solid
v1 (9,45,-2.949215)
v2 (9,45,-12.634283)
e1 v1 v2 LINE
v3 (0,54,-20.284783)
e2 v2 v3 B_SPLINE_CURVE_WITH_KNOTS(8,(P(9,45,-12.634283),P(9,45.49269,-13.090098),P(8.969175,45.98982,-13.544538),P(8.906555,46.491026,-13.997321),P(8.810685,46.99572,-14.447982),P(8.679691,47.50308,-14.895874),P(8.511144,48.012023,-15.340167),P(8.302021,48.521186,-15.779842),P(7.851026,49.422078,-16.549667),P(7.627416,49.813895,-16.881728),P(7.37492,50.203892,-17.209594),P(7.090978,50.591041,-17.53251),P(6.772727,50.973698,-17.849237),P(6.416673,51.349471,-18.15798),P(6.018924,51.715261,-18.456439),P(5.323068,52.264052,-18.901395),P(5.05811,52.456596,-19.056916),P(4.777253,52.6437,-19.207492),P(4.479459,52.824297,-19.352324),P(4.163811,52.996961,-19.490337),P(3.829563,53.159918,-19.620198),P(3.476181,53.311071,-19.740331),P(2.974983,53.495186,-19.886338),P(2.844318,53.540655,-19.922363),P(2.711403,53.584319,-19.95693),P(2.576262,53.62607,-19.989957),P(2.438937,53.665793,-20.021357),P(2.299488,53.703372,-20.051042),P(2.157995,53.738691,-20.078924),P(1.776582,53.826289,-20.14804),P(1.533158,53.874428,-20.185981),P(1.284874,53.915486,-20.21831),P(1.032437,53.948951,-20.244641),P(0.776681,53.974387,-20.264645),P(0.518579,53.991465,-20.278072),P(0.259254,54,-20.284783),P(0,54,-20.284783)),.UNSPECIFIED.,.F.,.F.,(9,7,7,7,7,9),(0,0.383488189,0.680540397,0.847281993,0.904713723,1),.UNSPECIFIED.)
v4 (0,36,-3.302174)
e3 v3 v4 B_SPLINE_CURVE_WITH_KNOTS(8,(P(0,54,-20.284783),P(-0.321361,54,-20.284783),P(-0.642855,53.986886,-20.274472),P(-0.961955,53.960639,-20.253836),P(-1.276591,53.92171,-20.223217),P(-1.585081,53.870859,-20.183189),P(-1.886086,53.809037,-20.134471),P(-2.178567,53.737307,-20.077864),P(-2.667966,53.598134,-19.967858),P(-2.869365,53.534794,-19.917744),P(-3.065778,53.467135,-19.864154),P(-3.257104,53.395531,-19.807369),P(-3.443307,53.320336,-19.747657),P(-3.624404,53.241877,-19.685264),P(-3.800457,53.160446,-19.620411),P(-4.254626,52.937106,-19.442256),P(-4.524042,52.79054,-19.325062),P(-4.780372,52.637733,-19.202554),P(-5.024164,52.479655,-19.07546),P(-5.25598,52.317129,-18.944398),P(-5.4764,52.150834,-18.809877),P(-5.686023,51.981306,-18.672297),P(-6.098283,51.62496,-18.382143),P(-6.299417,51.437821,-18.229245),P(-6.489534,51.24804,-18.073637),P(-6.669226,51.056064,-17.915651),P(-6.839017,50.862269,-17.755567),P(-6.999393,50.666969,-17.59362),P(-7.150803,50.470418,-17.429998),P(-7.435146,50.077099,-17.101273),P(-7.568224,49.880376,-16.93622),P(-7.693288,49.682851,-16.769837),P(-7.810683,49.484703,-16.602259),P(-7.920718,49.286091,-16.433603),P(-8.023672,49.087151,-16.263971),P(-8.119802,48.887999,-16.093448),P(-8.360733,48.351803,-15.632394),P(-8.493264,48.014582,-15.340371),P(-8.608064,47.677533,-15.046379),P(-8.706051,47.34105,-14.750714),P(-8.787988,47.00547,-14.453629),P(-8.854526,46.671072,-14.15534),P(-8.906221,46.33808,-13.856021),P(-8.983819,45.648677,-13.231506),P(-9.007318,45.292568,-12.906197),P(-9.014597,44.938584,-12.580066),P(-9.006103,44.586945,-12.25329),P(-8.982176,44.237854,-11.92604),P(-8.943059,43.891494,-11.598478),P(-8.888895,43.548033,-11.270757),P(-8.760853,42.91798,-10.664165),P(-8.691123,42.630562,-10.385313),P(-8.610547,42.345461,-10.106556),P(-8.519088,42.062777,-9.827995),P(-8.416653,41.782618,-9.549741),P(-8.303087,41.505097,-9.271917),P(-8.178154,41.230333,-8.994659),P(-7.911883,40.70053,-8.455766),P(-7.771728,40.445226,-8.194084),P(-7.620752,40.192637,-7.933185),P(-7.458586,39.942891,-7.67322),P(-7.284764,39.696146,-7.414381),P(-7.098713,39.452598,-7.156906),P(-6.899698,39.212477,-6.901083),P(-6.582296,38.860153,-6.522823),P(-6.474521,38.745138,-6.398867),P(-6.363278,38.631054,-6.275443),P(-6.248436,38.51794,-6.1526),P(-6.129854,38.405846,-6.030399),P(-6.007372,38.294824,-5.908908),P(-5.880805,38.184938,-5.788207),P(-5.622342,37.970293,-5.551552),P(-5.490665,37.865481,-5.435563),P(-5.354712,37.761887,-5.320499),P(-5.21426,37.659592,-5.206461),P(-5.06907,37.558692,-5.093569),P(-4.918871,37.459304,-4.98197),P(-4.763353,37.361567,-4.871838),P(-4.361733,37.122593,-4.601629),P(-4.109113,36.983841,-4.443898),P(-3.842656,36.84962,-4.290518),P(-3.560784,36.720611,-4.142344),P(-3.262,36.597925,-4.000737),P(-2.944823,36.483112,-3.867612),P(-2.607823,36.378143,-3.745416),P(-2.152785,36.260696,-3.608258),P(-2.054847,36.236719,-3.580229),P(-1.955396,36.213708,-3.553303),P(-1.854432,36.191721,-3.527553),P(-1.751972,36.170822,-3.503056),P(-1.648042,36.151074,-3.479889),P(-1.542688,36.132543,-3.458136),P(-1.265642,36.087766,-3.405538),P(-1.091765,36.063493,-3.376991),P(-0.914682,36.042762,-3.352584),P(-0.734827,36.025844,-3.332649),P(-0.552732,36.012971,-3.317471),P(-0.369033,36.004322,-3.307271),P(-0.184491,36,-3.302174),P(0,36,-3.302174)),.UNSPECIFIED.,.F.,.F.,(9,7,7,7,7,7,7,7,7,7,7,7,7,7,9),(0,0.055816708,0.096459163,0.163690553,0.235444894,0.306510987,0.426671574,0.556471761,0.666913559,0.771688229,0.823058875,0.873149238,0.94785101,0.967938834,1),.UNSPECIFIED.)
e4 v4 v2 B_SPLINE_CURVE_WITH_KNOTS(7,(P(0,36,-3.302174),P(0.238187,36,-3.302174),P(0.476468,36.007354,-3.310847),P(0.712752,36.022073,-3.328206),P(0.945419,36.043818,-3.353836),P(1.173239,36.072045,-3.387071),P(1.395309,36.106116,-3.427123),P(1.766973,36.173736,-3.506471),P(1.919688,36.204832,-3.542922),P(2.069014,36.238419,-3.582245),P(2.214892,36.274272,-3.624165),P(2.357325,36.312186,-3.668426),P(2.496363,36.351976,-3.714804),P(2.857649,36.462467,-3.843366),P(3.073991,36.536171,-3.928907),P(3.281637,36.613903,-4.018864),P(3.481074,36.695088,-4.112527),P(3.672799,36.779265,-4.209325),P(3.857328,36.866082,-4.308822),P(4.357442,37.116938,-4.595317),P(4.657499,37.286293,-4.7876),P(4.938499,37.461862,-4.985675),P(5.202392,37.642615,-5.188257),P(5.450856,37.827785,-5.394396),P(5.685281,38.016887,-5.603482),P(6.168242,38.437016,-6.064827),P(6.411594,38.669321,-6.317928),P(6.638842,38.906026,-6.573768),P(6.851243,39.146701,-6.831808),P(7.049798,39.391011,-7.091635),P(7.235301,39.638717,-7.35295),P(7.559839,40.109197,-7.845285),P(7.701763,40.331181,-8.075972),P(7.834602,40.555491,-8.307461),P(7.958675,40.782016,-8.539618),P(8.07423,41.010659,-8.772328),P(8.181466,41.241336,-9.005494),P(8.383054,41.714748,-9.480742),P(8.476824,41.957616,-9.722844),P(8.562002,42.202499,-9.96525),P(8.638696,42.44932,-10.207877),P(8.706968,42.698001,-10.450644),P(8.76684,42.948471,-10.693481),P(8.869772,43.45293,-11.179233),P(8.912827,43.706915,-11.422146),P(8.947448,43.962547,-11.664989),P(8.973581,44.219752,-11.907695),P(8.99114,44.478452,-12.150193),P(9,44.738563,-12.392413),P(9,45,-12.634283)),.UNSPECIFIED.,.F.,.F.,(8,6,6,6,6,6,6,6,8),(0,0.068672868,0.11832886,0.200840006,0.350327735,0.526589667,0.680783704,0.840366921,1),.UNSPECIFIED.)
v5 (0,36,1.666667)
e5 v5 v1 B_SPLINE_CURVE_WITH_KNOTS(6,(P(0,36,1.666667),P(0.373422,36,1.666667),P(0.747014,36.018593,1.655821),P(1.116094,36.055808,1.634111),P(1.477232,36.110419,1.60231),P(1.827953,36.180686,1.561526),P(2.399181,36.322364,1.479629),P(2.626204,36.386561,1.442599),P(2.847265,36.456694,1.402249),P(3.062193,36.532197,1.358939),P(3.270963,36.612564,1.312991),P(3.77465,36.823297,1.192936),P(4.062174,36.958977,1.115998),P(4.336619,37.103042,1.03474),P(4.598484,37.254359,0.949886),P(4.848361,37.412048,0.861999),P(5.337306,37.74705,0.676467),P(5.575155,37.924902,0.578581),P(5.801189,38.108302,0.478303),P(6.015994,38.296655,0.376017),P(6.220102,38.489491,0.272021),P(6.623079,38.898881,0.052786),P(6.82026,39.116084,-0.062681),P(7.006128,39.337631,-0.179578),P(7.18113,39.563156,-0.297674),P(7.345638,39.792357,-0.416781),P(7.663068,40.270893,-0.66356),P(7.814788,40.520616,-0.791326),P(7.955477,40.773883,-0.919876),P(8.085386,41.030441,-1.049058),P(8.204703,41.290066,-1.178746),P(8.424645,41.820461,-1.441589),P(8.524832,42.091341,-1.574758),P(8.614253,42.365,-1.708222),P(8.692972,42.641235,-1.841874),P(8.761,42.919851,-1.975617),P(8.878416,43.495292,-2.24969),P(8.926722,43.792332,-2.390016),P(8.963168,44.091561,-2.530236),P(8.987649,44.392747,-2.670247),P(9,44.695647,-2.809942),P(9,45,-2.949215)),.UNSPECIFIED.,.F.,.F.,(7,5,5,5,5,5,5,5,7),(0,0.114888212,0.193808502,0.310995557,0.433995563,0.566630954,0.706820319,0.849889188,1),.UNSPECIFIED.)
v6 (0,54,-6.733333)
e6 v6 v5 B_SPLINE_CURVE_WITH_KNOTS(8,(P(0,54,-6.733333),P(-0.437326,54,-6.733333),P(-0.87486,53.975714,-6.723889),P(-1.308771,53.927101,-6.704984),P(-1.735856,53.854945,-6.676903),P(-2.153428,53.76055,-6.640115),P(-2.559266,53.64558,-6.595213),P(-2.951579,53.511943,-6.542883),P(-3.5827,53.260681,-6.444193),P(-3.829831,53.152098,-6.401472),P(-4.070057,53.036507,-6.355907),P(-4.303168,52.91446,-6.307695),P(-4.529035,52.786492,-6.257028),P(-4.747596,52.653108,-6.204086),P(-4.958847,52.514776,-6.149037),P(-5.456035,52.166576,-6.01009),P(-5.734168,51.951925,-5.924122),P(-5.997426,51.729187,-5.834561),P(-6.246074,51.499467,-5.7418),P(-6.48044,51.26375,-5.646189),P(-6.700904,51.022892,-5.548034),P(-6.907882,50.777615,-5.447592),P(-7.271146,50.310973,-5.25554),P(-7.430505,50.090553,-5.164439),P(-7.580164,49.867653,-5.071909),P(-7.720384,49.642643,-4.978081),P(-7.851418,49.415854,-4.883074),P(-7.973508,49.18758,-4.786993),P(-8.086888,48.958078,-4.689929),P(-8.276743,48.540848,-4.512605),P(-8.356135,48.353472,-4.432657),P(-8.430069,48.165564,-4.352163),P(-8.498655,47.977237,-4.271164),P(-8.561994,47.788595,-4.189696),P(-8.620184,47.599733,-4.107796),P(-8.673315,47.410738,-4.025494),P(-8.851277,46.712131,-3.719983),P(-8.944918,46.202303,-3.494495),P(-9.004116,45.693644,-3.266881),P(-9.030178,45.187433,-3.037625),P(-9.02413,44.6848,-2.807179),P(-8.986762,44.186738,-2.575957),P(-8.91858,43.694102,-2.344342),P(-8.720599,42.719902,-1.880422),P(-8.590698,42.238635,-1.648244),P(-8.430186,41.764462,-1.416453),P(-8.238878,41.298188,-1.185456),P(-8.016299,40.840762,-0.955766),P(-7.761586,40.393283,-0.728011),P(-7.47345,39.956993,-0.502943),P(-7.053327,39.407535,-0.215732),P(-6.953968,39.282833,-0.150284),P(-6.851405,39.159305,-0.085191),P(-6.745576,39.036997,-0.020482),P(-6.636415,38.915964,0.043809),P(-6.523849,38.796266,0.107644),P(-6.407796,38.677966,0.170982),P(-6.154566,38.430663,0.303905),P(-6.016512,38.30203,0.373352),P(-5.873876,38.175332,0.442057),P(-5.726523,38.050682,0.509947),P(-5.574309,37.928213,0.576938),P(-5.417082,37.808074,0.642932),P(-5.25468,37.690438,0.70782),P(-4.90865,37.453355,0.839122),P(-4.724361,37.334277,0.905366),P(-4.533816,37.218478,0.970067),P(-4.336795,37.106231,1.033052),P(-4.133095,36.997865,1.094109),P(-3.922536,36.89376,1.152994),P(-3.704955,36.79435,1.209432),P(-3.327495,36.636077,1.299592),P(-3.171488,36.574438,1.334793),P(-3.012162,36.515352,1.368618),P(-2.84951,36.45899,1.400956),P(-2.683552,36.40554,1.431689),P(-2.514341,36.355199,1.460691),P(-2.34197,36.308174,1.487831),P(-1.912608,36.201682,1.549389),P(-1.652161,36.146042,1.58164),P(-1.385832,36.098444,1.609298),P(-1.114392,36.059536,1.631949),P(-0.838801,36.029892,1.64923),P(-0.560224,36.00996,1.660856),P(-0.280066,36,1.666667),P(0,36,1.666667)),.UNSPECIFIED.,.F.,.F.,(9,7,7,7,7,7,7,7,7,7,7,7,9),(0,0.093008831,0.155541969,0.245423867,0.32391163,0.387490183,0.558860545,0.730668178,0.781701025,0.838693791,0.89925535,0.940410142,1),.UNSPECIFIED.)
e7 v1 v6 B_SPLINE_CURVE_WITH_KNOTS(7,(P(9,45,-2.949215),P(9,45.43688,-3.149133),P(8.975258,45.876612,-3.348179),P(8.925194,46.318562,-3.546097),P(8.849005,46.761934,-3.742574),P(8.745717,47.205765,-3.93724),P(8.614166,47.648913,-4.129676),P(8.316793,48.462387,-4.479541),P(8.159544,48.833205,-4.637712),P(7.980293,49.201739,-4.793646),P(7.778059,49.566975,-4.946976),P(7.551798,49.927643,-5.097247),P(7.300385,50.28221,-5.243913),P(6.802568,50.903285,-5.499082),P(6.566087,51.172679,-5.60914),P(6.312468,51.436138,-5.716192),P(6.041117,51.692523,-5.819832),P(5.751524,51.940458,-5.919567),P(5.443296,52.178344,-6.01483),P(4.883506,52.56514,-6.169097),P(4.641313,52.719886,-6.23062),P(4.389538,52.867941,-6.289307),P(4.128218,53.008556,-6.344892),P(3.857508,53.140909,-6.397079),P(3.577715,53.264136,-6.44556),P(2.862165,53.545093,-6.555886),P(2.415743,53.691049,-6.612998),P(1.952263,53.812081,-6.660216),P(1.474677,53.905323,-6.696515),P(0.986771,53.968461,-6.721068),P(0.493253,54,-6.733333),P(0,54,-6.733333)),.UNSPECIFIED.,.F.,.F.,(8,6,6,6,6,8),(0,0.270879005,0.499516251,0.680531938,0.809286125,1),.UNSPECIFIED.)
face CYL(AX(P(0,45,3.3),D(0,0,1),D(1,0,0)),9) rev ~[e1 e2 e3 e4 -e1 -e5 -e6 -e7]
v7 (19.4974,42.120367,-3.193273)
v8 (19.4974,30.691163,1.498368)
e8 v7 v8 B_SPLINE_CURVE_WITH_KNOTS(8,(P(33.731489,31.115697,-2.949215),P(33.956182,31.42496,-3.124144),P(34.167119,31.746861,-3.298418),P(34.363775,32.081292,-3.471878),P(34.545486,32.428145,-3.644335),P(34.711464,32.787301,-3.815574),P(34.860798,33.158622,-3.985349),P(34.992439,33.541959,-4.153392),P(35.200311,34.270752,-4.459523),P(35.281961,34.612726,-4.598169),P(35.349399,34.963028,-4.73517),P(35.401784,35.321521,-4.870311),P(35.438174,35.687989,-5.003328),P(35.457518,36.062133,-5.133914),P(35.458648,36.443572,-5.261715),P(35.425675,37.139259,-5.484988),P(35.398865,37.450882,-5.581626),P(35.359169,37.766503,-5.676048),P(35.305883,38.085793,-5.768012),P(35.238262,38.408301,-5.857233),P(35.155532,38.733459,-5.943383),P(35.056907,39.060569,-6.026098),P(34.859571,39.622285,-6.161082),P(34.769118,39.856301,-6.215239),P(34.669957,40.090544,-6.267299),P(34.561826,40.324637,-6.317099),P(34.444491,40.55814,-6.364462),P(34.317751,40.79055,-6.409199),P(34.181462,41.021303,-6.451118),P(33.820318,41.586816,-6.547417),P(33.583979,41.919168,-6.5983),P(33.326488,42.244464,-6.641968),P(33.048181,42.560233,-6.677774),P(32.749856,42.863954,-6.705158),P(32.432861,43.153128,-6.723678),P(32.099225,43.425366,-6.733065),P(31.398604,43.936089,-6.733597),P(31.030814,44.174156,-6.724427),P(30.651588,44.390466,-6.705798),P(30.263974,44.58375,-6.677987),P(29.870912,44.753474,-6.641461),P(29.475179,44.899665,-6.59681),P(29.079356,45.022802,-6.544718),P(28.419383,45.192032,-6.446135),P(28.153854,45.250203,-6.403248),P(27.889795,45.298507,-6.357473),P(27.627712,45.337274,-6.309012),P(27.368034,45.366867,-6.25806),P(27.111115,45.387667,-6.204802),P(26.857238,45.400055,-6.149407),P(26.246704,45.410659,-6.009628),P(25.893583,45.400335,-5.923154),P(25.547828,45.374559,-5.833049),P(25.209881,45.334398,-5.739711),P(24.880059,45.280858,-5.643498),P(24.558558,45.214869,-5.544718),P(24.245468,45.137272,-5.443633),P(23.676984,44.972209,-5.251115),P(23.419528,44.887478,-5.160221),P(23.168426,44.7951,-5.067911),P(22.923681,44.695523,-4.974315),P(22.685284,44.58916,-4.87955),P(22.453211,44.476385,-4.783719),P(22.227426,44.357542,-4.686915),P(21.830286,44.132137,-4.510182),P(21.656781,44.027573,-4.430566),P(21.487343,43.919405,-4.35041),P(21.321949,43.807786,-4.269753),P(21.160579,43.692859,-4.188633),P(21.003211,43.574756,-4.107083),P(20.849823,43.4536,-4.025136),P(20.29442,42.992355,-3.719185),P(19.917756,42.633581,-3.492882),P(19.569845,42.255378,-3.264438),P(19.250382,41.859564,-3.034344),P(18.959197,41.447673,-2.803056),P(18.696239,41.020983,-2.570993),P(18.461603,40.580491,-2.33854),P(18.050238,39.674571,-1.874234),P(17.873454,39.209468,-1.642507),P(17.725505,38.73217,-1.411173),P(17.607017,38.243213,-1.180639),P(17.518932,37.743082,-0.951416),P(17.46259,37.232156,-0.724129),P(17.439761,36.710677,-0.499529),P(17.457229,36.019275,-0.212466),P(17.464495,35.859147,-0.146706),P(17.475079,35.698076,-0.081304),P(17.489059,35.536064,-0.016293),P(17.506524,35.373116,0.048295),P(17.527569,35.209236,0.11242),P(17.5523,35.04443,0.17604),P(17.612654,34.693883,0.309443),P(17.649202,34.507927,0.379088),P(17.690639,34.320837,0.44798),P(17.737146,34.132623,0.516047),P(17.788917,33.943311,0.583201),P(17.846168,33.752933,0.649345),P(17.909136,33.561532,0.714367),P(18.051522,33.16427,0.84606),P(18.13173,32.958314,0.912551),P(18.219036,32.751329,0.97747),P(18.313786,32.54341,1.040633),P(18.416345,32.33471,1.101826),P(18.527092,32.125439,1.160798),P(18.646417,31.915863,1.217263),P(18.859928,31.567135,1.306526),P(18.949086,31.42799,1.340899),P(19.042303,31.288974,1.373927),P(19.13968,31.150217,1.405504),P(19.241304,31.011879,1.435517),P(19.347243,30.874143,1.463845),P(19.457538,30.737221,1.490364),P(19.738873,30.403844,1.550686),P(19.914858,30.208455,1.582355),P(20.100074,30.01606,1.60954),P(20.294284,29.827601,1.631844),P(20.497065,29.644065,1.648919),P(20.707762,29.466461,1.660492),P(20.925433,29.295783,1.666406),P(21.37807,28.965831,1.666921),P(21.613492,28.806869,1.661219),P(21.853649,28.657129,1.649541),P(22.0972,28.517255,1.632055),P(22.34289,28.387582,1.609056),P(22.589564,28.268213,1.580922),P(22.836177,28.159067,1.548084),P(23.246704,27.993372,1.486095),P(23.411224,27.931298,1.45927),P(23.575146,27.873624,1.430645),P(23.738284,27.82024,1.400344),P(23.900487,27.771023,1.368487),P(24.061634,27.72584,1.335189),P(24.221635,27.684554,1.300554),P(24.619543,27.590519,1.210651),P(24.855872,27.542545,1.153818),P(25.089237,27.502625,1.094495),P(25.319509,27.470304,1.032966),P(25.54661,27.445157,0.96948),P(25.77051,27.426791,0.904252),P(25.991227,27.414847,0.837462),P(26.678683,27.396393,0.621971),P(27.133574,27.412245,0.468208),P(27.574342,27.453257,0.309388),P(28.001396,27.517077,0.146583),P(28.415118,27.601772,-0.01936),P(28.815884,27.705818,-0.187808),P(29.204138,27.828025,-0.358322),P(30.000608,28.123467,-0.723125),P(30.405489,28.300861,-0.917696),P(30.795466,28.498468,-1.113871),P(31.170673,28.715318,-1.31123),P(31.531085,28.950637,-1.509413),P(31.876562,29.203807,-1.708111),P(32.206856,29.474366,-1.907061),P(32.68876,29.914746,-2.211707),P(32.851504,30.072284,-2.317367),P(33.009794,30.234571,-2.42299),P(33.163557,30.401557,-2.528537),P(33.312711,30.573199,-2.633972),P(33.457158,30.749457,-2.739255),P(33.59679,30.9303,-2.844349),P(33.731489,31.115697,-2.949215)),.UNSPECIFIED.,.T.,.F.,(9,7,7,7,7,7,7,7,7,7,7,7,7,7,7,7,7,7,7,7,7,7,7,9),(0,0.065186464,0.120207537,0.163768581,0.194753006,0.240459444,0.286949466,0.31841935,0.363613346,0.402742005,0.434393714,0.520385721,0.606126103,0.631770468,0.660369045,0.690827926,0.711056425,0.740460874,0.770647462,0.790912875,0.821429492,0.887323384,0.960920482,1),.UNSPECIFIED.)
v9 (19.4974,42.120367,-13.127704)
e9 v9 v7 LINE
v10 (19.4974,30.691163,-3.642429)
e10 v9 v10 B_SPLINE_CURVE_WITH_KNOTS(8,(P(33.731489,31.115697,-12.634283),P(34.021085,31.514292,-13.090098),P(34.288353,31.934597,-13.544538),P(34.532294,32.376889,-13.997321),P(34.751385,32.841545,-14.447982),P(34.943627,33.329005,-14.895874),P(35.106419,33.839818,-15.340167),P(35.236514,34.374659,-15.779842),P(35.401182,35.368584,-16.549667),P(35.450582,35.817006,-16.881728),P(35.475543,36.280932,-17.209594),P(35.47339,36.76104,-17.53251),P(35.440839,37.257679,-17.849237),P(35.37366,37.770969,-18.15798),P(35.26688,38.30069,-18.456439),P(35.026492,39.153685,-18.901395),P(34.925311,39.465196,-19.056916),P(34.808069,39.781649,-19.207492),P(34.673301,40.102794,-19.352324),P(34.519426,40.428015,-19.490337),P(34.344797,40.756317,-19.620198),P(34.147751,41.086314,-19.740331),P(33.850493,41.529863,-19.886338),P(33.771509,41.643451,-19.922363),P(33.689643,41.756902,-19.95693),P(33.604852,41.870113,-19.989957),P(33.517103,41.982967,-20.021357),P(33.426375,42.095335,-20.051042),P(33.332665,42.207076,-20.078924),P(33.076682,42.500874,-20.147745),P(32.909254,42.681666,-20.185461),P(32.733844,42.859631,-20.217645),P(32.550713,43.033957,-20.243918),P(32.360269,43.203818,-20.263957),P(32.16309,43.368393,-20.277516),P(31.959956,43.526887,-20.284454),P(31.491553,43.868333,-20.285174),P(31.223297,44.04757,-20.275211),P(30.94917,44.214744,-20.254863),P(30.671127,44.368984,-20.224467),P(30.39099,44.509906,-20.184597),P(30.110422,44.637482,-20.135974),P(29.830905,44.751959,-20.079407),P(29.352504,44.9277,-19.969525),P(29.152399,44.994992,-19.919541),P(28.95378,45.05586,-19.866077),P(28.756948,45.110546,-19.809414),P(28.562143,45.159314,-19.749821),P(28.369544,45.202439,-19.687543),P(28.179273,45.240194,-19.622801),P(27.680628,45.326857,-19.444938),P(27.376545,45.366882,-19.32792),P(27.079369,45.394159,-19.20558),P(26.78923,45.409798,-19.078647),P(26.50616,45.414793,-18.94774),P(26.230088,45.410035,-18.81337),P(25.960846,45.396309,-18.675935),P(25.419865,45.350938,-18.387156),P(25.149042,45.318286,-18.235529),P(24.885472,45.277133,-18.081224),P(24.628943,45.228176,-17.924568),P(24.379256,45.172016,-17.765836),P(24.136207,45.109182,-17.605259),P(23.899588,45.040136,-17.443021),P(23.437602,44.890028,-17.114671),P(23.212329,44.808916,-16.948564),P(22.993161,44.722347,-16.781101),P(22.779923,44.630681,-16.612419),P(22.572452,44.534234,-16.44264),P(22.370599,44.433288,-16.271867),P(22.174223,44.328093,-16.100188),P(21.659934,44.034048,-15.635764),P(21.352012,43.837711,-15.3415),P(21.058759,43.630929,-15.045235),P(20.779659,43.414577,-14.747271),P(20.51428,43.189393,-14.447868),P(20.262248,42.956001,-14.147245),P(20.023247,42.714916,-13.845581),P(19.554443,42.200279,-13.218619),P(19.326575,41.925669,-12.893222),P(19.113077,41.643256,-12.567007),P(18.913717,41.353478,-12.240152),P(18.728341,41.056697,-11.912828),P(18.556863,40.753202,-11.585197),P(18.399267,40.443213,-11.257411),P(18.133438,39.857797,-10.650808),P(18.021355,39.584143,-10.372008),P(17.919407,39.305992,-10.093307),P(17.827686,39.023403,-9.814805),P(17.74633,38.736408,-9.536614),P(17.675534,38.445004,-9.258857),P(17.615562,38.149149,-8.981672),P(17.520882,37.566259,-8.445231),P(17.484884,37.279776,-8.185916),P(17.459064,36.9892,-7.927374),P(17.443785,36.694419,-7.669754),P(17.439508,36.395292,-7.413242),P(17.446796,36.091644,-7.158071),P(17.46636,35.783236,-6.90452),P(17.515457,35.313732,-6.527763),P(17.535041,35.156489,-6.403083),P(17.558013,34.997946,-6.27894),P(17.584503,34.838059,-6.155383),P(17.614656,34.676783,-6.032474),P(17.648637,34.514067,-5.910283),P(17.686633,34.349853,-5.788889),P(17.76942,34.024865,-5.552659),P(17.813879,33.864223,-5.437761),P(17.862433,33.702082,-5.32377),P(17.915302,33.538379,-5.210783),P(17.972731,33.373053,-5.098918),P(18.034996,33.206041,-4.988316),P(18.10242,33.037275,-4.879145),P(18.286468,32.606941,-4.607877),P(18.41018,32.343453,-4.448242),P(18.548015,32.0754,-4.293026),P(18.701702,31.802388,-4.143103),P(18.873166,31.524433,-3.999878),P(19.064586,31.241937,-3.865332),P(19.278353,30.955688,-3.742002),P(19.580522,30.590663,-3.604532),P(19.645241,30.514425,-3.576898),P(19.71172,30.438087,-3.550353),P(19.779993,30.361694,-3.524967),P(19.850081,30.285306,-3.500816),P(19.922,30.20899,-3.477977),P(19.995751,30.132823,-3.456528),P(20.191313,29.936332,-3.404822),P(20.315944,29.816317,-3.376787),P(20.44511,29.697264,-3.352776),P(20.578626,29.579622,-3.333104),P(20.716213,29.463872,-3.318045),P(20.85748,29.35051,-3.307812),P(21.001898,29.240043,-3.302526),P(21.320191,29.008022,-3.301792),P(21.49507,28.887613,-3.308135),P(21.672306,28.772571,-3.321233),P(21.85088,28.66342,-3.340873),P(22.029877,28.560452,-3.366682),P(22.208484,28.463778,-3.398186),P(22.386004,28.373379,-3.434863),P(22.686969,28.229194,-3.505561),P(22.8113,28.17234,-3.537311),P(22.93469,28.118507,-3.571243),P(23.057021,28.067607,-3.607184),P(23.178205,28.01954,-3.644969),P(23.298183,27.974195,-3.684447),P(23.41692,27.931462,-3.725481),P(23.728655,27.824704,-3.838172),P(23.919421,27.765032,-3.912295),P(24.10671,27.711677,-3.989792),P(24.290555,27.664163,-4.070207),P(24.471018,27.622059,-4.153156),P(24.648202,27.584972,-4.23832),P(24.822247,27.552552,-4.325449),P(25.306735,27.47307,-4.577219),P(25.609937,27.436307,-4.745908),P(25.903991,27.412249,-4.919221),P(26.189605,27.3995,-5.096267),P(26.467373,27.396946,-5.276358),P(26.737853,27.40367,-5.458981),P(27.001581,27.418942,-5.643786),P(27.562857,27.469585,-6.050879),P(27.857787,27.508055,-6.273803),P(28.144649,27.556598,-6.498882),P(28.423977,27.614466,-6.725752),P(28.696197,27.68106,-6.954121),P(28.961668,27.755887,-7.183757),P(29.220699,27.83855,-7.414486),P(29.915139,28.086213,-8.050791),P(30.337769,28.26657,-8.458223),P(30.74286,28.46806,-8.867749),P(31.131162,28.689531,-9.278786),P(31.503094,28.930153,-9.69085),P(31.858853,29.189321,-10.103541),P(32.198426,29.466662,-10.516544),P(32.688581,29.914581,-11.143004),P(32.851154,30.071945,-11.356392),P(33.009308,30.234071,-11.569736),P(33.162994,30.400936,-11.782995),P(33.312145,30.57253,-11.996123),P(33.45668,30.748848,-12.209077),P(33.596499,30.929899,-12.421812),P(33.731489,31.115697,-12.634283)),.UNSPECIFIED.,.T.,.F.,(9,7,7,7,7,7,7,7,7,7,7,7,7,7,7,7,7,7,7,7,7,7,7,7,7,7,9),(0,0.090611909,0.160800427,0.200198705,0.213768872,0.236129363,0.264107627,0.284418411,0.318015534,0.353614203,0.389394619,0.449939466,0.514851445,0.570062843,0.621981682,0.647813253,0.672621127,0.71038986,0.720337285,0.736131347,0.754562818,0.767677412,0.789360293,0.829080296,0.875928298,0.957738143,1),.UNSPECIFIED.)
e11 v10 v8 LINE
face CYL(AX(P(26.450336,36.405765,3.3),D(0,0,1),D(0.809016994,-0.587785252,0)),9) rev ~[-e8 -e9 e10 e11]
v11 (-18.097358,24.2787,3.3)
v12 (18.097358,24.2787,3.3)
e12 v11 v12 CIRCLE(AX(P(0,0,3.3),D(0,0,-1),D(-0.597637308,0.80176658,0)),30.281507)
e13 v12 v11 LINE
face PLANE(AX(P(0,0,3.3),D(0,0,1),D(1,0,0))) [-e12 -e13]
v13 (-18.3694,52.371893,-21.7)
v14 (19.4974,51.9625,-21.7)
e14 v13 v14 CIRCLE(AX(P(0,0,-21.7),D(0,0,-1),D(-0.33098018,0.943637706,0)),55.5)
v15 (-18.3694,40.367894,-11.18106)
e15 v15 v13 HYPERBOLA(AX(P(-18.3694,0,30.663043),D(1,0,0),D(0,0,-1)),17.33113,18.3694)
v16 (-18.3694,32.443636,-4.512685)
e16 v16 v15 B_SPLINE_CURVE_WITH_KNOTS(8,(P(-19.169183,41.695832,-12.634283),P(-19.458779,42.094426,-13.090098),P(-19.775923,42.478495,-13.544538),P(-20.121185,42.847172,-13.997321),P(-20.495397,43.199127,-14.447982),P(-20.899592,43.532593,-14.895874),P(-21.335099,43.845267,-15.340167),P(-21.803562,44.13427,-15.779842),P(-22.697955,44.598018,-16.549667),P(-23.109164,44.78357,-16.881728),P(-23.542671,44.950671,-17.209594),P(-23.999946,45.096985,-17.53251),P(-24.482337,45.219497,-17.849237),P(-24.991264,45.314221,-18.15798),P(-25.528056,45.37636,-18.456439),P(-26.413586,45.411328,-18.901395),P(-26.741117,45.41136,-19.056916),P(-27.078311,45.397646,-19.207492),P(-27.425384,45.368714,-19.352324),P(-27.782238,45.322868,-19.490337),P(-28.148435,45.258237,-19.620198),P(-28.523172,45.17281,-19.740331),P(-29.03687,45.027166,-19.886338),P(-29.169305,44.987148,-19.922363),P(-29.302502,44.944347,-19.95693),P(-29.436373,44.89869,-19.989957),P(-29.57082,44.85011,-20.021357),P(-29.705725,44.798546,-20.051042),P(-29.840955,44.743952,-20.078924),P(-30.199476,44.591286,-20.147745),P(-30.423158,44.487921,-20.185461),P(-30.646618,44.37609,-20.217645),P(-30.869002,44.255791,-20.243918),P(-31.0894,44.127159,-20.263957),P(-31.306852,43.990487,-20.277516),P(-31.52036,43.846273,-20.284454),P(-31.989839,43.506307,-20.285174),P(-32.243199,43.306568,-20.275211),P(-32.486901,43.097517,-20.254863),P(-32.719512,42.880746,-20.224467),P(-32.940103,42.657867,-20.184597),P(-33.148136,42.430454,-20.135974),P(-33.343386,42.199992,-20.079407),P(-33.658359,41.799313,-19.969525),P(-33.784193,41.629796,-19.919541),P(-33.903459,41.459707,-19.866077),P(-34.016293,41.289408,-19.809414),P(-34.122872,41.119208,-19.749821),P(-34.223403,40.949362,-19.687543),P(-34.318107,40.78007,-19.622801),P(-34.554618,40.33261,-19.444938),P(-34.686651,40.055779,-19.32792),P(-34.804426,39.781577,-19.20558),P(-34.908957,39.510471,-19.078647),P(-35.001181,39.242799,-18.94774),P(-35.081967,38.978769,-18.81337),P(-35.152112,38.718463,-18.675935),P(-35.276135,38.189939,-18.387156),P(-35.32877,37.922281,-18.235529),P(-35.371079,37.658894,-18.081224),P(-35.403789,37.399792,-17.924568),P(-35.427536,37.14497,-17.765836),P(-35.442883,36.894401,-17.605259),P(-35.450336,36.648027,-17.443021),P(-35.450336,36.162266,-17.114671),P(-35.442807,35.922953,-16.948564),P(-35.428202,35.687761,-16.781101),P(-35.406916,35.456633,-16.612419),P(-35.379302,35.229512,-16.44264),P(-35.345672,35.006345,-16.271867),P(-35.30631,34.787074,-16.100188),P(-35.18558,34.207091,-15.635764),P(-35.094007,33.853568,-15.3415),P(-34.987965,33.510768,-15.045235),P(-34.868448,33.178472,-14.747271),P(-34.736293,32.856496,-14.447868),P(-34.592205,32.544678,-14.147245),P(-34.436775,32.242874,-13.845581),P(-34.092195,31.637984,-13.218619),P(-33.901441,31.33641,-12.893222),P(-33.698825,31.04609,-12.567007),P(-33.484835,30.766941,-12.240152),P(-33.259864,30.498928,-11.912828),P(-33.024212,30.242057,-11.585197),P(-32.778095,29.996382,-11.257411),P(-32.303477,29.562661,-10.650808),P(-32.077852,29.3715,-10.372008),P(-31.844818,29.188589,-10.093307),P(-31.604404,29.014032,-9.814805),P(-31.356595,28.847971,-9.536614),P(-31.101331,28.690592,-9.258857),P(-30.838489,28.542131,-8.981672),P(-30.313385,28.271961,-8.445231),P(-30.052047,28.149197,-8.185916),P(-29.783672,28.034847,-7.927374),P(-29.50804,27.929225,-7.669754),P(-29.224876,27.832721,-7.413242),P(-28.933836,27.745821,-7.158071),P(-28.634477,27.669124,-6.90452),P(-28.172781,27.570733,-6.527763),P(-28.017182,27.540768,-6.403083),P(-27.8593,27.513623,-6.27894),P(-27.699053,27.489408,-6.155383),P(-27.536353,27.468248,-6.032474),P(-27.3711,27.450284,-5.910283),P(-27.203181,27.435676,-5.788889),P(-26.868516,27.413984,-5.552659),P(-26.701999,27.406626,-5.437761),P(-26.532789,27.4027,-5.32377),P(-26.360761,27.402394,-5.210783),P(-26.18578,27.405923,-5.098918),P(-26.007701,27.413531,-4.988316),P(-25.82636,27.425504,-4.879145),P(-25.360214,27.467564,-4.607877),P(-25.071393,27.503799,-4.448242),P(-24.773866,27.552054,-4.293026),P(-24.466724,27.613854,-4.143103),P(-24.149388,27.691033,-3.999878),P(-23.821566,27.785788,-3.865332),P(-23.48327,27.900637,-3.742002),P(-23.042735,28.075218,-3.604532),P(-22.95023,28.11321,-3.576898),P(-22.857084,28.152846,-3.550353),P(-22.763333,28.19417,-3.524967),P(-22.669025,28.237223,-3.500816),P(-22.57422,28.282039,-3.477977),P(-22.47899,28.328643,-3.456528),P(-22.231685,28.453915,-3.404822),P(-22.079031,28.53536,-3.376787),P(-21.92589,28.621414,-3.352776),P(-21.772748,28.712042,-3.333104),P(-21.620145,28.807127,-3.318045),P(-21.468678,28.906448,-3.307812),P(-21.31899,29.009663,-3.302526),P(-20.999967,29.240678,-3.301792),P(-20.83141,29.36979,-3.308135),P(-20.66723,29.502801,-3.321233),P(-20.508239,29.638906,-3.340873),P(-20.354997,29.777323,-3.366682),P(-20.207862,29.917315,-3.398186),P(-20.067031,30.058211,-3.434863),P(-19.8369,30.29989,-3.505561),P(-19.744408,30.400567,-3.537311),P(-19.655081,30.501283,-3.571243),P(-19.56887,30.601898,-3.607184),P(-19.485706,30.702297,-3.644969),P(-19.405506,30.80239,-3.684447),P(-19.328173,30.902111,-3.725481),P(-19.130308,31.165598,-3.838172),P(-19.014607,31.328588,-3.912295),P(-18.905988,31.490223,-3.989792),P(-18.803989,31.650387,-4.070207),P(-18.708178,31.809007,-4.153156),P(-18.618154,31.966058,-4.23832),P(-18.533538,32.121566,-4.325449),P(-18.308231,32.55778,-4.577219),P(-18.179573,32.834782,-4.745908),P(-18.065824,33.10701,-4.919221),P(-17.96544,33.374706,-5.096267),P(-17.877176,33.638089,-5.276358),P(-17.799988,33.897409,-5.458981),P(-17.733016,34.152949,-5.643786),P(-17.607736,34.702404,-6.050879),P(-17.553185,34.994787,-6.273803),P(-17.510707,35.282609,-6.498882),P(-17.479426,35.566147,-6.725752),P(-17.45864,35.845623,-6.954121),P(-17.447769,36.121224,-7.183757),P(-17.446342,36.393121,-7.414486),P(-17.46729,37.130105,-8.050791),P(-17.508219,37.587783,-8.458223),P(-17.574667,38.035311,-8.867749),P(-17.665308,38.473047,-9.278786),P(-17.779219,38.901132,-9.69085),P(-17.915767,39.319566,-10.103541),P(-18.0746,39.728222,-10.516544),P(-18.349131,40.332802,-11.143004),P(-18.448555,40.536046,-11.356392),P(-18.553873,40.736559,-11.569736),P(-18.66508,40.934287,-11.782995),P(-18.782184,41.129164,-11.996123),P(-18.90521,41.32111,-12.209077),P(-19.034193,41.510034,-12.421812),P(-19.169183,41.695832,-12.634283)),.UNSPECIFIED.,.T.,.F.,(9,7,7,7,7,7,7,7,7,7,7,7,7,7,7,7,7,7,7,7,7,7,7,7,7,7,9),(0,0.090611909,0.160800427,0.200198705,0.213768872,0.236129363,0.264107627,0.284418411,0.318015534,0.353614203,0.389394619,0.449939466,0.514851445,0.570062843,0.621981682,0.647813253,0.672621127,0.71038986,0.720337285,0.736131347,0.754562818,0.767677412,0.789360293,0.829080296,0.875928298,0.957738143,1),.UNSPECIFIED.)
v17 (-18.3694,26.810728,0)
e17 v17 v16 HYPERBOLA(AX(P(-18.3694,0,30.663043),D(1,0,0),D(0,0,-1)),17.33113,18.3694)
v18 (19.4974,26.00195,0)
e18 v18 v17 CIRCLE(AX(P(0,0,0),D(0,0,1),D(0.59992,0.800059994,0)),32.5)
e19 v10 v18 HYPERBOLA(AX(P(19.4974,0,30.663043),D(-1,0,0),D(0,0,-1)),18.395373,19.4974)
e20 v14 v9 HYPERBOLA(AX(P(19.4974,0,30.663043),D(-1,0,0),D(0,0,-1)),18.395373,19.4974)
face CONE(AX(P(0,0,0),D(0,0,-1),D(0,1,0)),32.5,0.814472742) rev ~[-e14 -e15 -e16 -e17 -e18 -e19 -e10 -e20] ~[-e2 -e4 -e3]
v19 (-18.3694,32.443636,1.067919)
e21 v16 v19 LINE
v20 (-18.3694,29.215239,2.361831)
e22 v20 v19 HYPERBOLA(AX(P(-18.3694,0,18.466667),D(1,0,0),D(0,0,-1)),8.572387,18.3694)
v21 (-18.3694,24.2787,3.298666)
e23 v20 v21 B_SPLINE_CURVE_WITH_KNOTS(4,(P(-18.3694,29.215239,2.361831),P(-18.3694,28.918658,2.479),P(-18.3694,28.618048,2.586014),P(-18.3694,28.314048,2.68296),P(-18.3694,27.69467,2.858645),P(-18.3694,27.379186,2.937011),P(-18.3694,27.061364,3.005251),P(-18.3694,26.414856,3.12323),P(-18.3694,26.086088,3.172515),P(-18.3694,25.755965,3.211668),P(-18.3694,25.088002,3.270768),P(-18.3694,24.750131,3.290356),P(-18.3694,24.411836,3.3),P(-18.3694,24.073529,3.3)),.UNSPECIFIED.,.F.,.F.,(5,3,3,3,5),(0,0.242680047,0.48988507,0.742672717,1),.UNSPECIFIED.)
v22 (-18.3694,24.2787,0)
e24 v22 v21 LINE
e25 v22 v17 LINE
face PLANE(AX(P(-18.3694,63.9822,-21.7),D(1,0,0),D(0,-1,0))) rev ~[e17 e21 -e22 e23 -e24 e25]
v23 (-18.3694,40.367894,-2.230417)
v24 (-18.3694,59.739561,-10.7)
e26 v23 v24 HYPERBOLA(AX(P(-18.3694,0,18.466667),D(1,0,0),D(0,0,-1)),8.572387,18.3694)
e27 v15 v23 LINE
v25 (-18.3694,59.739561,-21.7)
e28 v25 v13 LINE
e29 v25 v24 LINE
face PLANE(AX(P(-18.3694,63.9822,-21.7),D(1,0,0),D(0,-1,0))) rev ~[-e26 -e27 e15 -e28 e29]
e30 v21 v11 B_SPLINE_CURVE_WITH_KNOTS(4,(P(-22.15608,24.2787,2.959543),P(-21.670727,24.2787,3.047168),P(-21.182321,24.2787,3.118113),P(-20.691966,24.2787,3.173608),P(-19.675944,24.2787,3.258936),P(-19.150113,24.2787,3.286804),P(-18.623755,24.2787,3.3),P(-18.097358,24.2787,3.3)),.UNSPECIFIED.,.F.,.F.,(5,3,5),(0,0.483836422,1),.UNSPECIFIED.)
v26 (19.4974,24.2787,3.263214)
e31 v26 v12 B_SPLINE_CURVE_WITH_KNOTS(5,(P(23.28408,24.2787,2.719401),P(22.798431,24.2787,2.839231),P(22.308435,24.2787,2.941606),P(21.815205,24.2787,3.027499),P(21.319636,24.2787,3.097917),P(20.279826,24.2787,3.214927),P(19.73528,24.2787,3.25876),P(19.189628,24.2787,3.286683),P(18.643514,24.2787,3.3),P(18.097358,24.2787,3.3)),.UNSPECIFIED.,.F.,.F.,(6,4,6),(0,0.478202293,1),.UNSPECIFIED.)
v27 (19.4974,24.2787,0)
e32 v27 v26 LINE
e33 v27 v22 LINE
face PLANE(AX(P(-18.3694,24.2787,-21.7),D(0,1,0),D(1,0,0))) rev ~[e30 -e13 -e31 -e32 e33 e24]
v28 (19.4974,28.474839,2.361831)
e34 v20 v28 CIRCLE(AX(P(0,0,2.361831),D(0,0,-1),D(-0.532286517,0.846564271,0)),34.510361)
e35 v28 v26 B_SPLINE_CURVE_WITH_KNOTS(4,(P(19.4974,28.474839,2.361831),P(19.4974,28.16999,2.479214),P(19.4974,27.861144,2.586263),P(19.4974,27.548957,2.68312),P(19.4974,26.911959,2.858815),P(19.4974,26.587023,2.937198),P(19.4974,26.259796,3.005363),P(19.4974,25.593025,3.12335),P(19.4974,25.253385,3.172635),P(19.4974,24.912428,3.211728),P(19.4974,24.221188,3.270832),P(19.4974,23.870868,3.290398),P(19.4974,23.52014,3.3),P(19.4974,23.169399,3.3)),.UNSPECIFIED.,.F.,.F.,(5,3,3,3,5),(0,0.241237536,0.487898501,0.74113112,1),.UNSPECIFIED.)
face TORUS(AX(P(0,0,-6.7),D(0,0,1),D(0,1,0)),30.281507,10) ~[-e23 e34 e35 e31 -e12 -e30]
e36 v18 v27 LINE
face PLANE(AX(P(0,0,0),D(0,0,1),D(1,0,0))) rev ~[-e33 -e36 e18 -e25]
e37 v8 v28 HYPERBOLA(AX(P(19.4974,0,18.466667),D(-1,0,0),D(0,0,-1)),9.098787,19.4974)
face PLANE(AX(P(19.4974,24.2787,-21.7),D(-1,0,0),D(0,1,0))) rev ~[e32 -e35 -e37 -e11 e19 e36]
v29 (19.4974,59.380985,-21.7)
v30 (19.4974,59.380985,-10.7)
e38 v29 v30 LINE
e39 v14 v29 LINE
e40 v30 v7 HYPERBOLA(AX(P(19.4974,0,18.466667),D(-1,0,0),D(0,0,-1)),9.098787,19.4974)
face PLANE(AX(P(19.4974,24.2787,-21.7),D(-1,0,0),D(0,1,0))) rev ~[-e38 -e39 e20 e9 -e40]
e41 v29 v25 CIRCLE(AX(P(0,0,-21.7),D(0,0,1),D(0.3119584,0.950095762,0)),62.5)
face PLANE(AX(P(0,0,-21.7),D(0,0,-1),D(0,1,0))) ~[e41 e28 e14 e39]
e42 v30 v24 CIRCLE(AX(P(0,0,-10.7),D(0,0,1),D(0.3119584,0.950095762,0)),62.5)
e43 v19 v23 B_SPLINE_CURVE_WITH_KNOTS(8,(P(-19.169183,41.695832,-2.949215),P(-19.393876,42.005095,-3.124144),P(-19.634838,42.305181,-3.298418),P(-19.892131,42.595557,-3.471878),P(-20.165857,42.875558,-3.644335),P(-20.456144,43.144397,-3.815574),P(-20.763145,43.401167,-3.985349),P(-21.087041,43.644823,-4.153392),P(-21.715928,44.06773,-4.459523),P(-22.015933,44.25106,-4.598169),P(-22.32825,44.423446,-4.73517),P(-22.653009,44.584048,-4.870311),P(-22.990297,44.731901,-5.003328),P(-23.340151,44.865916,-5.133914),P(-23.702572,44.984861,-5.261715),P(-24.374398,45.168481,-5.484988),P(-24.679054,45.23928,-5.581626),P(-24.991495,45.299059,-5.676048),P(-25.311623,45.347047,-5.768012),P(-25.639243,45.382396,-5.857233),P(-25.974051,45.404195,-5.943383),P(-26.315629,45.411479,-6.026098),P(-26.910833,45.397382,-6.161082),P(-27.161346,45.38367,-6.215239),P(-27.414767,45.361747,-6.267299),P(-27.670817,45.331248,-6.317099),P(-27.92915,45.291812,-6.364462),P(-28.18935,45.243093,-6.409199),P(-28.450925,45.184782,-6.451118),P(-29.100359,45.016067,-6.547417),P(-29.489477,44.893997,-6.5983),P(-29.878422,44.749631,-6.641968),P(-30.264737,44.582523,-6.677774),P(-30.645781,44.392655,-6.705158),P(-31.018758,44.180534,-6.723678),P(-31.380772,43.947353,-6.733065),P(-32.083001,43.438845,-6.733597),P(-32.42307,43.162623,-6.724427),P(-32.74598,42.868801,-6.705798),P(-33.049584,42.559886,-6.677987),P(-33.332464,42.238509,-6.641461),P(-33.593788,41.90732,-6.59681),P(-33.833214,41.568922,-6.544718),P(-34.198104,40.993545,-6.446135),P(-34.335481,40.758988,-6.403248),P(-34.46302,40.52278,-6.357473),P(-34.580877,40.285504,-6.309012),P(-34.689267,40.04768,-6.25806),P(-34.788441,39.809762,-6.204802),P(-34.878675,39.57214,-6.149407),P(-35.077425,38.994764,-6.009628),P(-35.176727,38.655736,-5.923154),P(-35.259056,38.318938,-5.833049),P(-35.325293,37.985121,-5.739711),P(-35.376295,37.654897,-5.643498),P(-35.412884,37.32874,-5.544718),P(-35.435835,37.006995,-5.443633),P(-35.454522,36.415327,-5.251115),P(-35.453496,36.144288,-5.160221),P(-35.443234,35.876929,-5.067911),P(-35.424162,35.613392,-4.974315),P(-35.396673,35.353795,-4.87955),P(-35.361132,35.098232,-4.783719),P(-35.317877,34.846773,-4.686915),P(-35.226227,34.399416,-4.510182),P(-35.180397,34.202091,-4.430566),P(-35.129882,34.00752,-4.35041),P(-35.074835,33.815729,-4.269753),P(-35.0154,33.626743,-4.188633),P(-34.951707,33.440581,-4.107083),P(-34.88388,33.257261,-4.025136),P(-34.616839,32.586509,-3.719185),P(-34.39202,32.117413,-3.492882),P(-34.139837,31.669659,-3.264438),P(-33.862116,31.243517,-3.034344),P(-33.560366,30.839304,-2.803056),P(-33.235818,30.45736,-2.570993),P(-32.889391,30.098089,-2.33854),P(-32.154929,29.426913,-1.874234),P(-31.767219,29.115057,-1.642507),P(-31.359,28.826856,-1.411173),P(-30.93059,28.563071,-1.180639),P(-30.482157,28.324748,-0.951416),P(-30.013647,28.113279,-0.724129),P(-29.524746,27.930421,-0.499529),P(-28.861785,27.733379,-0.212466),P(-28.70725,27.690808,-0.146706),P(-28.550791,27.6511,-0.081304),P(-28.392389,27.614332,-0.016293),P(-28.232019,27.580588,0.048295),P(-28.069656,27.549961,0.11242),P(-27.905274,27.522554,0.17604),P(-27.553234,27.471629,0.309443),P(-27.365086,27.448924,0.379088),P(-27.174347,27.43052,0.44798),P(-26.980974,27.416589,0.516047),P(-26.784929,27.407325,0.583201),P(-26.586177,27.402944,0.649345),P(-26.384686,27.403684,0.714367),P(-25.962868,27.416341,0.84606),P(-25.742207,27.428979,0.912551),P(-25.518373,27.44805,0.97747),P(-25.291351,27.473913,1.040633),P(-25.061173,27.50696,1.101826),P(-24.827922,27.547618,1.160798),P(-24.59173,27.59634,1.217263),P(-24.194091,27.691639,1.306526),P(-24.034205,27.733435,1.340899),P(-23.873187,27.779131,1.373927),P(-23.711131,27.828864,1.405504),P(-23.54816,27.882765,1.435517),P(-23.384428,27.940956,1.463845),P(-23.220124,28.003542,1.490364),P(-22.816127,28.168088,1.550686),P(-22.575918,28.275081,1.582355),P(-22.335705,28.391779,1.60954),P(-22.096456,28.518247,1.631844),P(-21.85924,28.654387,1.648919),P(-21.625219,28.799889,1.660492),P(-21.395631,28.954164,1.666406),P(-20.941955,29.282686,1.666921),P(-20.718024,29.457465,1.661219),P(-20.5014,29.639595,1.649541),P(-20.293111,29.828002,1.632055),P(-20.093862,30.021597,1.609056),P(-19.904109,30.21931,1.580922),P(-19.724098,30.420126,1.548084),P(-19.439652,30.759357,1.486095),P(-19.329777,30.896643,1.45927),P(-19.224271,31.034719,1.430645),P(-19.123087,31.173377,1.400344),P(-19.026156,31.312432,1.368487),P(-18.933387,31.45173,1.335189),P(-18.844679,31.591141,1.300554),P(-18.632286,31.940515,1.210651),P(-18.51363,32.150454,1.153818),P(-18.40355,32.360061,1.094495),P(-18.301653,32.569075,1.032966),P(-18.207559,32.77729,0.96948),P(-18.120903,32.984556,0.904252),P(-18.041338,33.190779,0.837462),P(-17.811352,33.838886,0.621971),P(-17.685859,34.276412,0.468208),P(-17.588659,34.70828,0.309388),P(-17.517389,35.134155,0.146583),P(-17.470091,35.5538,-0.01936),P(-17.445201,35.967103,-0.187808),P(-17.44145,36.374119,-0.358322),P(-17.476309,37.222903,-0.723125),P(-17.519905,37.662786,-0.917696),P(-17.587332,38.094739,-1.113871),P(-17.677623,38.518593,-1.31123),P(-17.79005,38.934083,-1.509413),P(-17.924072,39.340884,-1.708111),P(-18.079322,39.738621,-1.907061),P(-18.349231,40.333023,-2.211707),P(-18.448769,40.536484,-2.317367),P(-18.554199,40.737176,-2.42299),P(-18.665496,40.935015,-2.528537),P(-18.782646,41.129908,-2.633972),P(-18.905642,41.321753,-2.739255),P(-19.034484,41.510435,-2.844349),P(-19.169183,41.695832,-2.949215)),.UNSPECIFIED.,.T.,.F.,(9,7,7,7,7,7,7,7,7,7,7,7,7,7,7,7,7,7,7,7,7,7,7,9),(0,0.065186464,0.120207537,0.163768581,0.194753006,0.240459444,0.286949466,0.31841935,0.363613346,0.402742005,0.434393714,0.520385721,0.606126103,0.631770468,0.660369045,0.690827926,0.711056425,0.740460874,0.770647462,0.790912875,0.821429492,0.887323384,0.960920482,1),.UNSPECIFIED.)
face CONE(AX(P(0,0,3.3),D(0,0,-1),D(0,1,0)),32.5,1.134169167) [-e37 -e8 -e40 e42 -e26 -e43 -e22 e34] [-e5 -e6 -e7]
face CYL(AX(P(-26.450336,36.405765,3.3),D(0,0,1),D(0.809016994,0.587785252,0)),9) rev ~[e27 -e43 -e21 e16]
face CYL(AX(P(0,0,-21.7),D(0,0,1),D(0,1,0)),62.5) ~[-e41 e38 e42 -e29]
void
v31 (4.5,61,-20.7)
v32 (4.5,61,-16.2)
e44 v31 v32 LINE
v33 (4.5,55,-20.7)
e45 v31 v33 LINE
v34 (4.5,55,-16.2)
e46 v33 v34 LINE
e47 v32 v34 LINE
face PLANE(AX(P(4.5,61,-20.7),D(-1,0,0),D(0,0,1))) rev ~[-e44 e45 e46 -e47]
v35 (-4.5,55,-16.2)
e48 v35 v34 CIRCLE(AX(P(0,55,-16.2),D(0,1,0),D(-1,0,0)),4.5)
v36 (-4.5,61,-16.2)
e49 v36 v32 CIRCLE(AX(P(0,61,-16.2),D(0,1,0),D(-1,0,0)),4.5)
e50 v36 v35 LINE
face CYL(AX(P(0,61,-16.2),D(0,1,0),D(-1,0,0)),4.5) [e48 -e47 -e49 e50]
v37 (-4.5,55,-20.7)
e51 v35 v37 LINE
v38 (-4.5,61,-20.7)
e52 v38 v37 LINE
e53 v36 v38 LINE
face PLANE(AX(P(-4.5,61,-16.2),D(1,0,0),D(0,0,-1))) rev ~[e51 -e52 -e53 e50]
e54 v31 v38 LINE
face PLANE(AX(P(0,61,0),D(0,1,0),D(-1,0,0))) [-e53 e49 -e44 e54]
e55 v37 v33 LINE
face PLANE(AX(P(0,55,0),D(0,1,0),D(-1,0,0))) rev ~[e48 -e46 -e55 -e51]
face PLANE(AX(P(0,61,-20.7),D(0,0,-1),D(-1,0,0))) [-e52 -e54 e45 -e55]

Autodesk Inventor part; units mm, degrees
ref_plane "YZ Plane" through (0, 0, 0) normal (1, 0, 0) x (0, 1, 0)
ref_plane "XY Plane" through (0, 0, 0) normal (0, 0, 1) x (1, 0, 0)
sketch "Sketch1" plane through (0, 0, 0) normal (0, 0, 1) x (1, 0, 0)
  circle A0 centre (0, 0) radius 11
  line L0 (-9.5, 5.5453) -> (-9.5, -5.5453)
  line L1 (9.5, 5.5453) -> (9.5, -5.5453)
  circle A1 centre (0, 0) radius 32.5
  dimension "d0" = 22
  dimension "d1" = 19
  dimension "d2" = 65
extrude "Extrusion1" add sketch "Sketch1" along normal blind 3.3 contours A0 L1 | L0 A0 | A1
sketch "Sketch2" plane through (0, 0, 0) normal (1, 0, 0) x (0, 1, 0)
  line L0 (32.5, 0) -> (-32.5, 0) projected
  line L1 (32.5, 0) -> (55.5, -21.7)
  line L2 (55.5, -21.7) -> (62.5, -21.7)
  line L3 (62.5, -21.7) -> (62.5, -10.7)
  line L4 (32.5, 3.3) -> (-32.5, 3.3) projected
  line L5 (32.5, 3.3) -> (62.5, -10.7)
  line L6 (0, 0) -> (0, -19.375) construction
  line L7 (32.5, 3.3) -> (32.5, 0)
  dimension "d8" = 7
  dimension "d9" = 25
  dimension "d10" = 11
  dimension "d11" = 30
revolve "Revolution1" add sketch "Sketch2" angle 360 about axis through (0, 0, 0) along (0, 0, -1)
fillet "Fillet1" radius 10 1 edges at (0, -32.5, 3.3)
ref_plane "Work Plane2" through (0, 61, 0) normal (0, 1, 0) x (-1, 0, 0)
sketch "Sketch3" plane through (0, 61, 0) normal (0, 1, 0) x (-1, 0, 0)
  circle A0 centre (0, -16.2) radius 4.5
  line L0 (4.5, -16.2) -> (4.5, -20.7)
  line L1 (-4.5, -20.7) -> (-4.5, -16.2)
  line L2 (-62.5, -21.7) -> (62.5, -21.7) projected
  line L3 (62.5, -21.7) -> (62.5, -11.7) construction
  line L4 (62.5, -10.7) -> (62.5, -21.7) projected
  line L5 (-9.5, 0) -> (9.5, 0) projected
  line L6 (-4.5, -20.7) -> (4.5, -20.7)
  point P0 (0, 0)
  point P1 (0, 0)
  point P2 (0, -20.7)
  dimension "d14" = 9
  dimension "d22" = 1
extrude "Extrusion2" cut sketch "Sketch3" against normal blind 6
sketch "Sketch4" plane through (0, 0, 3.3) normal (0, 0, 1) x (1, 0, 0)
  circle A0 centre (0, 45) radius 9
  point P0 (0, 0)
  dimension "d25" = 45
  dimension "d26" = 18
extrude "Extrusion3" cut sketch "Sketch4" against normal through all
pattern_circular "Circular Pattern1" count 10 over 360 about axis through (0, 0, -6.7) along (0, 0, 1) of "Extrusion3"
sketch "Sketch5" plane through (0, 0, -21.7) normal (0, 0, -1) x (-1, 0, 0)
  line L0 (82.923, -74.4217) -> (-85.9985, -74.4217)
  line L1 (-85.9985, -74.4217) -> (-85.9985, 73.4258)
  line L2 (-85.9985, 73.4258) -> (82.923, 73.4258)
  line L3 (82.923, 73.4258) -> (82.923, -74.4217)
  line L4 (-19.4974, 63.9822) -> (18.3694, 63.9822)
  line L5 (18.3694, 63.9822) -> (18.3694, 24.2787)
  line L6 (18.3694, 24.2787) -> (-19.4974, 24.2787)
  line L7 (-19.4974, 24.2787) -> (-19.4974, 63.9822)
  point P0 (0, 0)
extrude "Extrusion4" cut sketch "Sketch5" against normal through all
properties part number "CVT_Ring"
